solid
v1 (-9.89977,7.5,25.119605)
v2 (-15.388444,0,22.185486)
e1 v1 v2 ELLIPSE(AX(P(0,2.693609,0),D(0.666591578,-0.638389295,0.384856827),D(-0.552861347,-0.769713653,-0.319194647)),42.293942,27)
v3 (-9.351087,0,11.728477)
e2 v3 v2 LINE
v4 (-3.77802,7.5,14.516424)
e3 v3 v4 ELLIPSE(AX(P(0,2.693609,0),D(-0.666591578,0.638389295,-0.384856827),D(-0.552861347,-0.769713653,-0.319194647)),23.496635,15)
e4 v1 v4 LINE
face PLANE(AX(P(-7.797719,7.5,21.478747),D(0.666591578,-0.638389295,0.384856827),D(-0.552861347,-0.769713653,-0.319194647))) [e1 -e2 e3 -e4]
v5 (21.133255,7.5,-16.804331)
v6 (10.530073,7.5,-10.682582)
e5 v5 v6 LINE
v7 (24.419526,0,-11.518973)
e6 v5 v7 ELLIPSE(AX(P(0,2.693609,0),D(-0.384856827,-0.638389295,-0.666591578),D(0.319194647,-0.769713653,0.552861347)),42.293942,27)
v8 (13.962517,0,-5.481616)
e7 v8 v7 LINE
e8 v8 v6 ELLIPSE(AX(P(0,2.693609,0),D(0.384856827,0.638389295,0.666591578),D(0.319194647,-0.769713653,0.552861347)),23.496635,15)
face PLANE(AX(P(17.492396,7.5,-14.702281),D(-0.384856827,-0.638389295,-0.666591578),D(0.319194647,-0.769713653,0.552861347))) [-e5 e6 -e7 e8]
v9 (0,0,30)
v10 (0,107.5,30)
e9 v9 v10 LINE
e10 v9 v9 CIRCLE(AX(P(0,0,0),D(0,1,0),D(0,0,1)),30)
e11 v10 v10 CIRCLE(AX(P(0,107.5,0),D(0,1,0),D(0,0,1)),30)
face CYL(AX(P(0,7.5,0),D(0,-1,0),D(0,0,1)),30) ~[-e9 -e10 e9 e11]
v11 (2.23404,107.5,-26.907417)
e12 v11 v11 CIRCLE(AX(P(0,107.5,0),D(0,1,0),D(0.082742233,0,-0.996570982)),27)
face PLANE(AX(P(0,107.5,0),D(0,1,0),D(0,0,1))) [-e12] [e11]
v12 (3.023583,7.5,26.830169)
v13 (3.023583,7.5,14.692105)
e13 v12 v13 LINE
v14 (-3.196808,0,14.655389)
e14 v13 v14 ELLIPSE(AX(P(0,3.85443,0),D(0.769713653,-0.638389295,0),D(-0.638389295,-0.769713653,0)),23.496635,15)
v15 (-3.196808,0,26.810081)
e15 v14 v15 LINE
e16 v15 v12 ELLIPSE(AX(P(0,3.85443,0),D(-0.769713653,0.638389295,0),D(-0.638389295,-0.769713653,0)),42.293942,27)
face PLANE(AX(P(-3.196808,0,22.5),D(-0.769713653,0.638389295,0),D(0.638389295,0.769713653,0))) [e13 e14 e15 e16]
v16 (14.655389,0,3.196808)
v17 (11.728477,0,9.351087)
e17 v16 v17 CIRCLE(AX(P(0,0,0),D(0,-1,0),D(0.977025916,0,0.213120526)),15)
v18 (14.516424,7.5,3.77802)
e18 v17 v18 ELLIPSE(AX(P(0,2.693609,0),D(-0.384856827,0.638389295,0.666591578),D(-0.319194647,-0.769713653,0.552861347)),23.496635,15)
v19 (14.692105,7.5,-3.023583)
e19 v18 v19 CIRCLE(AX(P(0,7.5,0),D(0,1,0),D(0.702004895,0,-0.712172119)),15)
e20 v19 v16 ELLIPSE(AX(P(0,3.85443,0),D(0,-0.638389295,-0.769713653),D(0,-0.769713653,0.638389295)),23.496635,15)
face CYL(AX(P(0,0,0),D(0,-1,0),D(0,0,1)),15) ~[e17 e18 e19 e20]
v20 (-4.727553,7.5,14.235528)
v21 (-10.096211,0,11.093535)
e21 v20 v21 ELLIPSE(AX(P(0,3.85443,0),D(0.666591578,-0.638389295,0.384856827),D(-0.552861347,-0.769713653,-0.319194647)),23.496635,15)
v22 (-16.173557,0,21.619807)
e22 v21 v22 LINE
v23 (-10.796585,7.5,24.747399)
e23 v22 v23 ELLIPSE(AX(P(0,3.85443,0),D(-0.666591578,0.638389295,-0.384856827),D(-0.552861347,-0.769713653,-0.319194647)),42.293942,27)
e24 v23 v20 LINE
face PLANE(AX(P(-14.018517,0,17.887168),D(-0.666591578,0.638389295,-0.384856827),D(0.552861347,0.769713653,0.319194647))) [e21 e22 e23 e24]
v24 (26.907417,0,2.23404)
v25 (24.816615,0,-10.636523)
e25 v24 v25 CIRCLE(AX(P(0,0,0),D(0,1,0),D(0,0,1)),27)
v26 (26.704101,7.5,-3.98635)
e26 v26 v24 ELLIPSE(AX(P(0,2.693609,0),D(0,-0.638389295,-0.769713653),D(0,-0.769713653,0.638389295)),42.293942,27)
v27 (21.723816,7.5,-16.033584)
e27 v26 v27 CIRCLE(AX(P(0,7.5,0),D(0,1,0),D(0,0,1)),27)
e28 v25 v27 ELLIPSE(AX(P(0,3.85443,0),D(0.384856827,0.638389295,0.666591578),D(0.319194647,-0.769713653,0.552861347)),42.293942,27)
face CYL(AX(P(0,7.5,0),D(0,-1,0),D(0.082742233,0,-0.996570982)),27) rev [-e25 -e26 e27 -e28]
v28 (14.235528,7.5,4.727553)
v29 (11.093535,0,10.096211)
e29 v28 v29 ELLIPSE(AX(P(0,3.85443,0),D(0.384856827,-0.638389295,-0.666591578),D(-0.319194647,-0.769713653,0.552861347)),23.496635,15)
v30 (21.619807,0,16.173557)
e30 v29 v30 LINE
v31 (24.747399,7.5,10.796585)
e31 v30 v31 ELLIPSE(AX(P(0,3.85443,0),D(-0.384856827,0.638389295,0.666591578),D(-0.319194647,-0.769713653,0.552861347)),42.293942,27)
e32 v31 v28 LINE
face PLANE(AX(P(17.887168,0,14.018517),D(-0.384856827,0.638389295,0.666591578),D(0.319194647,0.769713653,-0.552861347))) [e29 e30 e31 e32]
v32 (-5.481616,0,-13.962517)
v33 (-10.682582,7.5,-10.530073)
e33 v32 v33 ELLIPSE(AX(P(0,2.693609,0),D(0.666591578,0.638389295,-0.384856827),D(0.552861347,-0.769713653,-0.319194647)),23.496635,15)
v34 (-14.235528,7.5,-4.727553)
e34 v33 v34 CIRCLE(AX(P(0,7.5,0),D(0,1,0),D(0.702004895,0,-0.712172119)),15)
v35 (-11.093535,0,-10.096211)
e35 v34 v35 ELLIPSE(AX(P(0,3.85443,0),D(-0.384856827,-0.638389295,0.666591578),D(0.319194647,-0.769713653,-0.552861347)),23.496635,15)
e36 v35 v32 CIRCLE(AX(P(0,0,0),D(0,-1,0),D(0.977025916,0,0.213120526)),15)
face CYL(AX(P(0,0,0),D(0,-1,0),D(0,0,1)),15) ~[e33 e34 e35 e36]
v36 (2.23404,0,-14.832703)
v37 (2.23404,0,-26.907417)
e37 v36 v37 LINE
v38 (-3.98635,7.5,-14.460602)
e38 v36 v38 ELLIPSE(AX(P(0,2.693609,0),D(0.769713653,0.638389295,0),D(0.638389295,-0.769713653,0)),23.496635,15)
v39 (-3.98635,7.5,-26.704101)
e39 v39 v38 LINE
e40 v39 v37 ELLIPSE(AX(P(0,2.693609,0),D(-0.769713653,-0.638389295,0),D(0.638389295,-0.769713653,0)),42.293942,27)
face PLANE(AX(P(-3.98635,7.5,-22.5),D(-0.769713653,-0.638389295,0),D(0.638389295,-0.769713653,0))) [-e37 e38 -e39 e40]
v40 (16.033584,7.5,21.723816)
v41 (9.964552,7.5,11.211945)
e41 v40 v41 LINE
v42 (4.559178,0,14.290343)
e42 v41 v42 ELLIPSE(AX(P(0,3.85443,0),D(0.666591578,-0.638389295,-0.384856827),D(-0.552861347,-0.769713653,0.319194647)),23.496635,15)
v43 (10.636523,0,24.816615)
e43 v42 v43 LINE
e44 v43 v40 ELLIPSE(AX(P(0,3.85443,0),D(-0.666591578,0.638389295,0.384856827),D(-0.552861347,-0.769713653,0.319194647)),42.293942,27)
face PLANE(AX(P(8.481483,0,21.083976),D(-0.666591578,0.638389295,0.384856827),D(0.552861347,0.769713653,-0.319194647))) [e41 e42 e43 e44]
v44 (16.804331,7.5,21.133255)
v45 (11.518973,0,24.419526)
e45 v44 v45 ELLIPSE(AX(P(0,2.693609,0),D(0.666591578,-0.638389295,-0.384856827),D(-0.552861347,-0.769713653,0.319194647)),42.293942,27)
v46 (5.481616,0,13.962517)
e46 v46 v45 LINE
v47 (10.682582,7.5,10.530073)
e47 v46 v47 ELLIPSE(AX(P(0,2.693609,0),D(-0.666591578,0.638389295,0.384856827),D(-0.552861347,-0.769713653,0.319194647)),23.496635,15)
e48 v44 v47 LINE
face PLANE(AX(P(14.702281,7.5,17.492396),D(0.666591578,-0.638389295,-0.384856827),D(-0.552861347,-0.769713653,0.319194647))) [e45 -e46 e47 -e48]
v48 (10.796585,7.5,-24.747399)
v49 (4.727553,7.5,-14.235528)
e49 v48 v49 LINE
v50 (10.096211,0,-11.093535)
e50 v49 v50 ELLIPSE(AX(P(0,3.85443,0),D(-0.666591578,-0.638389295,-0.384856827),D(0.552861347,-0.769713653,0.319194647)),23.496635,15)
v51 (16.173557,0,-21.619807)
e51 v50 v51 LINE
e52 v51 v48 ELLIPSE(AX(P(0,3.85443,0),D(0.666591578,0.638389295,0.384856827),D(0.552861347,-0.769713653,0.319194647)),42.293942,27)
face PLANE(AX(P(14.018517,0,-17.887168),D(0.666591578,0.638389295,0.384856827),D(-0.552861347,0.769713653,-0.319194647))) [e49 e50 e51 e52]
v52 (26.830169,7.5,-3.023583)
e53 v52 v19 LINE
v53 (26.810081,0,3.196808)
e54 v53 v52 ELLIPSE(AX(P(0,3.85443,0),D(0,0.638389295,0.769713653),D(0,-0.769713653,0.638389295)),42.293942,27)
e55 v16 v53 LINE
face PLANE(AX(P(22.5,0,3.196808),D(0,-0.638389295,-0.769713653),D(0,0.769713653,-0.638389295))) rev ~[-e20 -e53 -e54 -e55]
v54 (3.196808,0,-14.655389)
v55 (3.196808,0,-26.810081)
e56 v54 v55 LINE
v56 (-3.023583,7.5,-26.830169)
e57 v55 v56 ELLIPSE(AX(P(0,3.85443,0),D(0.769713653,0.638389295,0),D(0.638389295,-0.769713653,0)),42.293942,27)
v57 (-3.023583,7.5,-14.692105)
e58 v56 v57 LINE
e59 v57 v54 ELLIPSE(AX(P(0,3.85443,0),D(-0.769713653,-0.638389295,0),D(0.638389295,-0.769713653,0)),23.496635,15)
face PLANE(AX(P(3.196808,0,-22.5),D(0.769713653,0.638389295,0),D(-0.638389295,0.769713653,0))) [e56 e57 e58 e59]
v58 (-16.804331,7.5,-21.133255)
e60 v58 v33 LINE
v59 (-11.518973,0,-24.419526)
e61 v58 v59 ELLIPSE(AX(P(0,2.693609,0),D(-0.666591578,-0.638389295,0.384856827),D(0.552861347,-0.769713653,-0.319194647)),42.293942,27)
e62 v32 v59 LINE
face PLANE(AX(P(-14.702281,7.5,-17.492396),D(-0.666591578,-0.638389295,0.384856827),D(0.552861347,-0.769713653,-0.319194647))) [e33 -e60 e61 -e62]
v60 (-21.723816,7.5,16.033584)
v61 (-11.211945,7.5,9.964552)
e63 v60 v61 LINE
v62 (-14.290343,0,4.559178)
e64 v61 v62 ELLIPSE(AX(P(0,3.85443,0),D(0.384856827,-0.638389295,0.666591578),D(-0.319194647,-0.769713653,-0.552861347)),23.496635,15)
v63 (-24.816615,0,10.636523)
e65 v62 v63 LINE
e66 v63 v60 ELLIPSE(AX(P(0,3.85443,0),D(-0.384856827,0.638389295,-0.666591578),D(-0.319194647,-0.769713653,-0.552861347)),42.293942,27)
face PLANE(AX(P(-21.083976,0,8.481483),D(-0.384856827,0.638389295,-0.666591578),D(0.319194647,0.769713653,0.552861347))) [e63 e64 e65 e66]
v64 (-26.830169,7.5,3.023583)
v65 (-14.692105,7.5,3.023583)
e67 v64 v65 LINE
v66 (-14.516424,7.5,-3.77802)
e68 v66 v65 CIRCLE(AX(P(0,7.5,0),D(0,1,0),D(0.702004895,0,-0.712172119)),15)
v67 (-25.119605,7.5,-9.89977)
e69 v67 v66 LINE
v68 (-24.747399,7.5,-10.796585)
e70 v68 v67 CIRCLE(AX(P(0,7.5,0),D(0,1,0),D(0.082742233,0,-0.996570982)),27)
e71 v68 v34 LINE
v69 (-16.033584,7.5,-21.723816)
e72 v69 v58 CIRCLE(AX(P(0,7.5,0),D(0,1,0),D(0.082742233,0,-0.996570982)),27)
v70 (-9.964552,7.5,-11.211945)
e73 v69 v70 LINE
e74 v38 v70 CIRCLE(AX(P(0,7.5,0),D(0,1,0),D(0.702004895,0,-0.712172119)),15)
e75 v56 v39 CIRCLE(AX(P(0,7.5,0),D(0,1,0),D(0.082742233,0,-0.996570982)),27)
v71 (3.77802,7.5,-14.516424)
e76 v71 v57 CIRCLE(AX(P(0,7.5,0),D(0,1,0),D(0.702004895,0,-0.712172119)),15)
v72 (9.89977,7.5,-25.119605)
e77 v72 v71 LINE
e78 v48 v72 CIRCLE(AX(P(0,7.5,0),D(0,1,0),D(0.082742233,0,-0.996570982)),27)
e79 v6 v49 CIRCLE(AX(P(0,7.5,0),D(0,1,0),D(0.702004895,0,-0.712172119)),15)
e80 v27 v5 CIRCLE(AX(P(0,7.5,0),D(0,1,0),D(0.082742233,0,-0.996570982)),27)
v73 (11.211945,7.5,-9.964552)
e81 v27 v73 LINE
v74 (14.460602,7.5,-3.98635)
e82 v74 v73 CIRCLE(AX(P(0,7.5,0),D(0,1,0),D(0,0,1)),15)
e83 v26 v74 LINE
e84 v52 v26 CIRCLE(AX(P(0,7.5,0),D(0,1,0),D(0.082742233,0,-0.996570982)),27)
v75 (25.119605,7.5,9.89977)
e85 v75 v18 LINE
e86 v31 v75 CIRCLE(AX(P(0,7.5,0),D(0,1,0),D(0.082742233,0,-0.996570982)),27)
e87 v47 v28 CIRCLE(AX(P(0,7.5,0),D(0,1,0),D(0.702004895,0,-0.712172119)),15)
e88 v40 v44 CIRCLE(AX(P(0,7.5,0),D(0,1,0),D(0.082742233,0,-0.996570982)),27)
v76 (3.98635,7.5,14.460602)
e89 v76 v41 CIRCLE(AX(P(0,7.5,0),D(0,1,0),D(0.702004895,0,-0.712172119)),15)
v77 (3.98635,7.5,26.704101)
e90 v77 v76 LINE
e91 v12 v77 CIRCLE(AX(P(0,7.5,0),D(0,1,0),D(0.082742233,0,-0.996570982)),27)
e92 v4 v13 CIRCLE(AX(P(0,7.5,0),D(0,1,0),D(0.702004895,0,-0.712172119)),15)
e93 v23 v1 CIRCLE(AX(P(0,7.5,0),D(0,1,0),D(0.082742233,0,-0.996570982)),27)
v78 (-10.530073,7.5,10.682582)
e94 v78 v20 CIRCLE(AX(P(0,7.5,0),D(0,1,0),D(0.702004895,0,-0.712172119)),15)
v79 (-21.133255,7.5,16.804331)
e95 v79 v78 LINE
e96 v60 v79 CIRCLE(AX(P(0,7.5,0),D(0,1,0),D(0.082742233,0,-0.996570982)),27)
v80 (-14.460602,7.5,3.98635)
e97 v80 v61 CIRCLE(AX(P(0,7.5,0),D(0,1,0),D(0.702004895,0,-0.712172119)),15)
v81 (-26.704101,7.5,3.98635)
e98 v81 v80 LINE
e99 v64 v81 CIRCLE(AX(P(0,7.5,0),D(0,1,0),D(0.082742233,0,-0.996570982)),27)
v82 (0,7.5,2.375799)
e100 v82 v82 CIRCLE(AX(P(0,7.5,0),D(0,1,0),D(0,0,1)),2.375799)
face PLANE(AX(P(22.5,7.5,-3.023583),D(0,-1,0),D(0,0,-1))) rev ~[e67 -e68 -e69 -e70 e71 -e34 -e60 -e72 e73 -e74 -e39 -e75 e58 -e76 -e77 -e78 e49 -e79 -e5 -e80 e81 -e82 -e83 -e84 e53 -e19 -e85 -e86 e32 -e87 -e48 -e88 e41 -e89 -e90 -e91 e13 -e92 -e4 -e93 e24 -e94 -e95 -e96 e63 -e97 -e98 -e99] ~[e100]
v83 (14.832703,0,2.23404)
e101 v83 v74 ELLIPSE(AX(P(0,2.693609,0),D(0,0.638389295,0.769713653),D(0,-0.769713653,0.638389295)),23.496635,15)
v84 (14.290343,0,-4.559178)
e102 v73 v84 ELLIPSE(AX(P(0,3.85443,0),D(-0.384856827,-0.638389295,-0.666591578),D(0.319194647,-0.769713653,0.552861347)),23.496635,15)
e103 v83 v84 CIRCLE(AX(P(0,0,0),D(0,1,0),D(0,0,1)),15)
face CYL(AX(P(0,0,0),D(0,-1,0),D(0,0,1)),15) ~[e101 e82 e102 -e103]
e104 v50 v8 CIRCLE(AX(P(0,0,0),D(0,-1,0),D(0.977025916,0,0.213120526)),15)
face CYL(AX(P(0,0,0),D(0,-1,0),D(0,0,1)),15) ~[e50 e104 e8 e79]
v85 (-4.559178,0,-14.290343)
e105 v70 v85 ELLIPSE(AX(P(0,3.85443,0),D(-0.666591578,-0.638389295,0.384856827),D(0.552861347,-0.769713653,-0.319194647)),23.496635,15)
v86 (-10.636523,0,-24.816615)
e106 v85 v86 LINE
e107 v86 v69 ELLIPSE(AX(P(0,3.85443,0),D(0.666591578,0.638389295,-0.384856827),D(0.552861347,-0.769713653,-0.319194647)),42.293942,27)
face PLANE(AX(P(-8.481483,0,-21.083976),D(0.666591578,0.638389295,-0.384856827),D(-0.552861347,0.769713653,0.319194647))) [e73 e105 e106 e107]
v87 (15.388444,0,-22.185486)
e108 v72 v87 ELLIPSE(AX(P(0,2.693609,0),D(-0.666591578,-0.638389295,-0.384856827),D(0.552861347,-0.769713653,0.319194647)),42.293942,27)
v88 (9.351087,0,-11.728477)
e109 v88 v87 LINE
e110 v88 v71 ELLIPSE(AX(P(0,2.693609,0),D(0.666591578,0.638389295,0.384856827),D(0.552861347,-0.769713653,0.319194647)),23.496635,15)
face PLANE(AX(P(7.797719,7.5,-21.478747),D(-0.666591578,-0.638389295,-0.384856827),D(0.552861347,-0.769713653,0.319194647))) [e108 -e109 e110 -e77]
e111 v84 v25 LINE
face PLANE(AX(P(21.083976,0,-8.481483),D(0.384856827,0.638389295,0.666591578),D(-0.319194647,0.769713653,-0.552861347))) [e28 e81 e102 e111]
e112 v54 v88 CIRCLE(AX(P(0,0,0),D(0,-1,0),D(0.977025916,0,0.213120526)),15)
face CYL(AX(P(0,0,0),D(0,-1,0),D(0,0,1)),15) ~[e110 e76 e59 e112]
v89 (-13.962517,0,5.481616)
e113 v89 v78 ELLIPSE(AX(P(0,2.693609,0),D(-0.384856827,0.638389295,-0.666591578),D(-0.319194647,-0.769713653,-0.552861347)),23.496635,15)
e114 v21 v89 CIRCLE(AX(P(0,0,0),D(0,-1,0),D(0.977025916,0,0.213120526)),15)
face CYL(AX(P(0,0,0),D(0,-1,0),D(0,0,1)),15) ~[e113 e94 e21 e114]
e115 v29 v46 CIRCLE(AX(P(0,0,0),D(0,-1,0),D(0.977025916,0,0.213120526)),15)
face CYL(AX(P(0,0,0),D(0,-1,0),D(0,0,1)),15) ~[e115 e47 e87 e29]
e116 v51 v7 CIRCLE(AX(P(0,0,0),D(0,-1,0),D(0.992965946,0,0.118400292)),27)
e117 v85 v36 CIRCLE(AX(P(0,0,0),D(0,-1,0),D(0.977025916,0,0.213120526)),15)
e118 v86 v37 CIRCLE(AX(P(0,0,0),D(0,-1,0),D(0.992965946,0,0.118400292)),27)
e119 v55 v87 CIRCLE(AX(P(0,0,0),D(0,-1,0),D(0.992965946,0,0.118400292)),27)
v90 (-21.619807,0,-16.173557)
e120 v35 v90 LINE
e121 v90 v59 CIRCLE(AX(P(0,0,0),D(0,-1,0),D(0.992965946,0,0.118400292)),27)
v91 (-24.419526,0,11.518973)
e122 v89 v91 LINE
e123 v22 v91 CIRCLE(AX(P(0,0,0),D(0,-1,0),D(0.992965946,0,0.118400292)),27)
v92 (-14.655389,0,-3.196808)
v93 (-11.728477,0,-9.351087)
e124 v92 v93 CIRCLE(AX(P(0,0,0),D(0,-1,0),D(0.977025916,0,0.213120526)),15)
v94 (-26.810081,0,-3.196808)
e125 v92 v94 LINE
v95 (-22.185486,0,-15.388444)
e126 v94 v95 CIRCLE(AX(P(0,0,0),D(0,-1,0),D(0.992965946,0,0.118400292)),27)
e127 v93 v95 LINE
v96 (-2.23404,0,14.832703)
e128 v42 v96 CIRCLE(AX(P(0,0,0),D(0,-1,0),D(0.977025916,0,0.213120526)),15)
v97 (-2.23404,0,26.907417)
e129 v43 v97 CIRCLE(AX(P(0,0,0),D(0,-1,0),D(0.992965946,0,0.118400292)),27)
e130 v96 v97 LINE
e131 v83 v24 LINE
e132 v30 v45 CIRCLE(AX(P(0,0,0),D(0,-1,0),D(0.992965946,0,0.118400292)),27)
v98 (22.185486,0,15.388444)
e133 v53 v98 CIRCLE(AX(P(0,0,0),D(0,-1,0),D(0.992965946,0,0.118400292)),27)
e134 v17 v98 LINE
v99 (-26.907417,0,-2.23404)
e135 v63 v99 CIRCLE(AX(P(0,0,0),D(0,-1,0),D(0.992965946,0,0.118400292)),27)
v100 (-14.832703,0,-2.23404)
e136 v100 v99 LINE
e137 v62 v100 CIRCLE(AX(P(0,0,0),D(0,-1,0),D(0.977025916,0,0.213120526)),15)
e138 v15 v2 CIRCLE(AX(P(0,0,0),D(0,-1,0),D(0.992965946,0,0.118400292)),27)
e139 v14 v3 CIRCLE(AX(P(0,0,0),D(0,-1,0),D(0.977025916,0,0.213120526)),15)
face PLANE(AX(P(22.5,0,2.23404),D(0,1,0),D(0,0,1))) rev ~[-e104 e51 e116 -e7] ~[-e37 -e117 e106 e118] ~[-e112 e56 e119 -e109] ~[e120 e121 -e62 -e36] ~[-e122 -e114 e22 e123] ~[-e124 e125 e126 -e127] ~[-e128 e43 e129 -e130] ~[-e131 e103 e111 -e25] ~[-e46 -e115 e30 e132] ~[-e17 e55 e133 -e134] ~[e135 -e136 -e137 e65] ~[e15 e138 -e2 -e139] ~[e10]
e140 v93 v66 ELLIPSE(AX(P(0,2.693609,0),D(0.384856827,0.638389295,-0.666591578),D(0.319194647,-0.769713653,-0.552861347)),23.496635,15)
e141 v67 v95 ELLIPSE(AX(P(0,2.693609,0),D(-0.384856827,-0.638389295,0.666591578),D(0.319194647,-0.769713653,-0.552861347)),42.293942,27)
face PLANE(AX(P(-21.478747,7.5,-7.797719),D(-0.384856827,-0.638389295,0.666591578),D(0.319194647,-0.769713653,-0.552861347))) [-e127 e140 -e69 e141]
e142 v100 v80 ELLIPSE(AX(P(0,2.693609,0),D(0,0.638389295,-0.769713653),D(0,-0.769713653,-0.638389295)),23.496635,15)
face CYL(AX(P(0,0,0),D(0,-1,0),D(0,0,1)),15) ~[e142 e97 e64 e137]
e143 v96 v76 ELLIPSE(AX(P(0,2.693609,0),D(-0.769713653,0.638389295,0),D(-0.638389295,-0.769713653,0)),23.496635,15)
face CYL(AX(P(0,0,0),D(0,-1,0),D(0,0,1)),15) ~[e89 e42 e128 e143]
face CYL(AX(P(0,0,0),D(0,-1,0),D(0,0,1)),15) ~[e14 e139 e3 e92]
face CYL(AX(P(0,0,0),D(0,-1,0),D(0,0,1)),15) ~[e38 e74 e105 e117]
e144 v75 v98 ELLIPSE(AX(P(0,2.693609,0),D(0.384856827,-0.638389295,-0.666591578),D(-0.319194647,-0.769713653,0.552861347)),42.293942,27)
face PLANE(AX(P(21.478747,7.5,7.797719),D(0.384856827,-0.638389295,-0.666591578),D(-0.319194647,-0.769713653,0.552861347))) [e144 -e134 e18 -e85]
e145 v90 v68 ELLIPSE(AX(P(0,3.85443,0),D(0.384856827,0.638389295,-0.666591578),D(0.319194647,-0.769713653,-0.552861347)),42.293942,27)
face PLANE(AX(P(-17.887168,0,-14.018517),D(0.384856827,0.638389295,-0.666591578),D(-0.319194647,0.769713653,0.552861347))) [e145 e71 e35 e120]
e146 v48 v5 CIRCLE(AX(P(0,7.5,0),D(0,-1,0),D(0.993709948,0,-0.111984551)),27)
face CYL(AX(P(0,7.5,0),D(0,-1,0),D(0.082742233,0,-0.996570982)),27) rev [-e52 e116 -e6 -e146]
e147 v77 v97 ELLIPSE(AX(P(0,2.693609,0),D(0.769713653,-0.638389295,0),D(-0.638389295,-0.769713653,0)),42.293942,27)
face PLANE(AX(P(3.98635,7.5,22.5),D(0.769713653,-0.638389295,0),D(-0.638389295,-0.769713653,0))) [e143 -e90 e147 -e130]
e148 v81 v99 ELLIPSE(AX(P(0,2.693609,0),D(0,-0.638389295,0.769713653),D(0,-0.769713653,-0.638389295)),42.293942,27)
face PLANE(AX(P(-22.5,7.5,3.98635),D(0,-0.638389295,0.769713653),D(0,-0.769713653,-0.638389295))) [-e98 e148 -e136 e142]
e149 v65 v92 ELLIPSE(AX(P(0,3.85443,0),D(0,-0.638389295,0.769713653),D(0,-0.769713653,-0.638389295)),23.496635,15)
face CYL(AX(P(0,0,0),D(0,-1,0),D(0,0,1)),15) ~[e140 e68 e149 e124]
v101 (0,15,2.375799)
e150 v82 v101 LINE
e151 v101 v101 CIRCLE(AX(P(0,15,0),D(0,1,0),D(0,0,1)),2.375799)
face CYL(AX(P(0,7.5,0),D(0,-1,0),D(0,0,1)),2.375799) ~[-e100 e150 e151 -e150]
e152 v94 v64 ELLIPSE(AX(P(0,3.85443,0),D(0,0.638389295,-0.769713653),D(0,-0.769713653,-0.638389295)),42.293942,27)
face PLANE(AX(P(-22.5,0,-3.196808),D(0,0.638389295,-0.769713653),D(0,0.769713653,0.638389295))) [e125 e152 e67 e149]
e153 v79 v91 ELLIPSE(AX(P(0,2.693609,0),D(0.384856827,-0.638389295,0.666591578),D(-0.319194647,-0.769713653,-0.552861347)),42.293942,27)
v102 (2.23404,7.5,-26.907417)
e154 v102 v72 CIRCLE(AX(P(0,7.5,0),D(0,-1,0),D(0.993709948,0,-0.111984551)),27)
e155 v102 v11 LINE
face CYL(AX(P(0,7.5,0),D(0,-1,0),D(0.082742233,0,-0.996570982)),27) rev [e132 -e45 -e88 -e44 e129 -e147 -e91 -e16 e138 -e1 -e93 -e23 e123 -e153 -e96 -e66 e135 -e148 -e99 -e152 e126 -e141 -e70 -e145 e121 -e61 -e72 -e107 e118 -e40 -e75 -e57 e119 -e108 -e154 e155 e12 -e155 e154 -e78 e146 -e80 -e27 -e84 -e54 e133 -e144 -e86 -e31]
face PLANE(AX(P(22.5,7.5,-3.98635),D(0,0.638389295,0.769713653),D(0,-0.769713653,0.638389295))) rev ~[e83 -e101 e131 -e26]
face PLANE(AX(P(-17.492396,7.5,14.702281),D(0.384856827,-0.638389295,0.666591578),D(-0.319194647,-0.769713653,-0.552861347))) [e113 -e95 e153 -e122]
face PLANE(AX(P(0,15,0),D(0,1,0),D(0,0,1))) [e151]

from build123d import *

# Parameters (mm, degrees)
SKETCH1_R                            = 20
BOSS_EXTRUDE1_DEPTH                  = 10
SKETCH1_R_2                          = 40
SKETCH1_R_3                          = 36
BOSS_EXTRUDE1_2_DEPTH                = 10
BOSS_EXTRUDE2_REACH                  = 89.446
BOSS_EXTRUDE2_END_RADIUS             = 36
BOSS_EXTRUDE2_START                  = 30
BOSS_EXTRUDE2_DIRECTION_2_REACH      = 89.446
BOSS_EXTRUDE2_DIRECTION_2_END_RADIUS = 20
CIRPATTERN1_COUNT                    = 12
SKETCH5_R                            = 3.167731354
BOSS_EXTRUDE3_DEPTH                  = 10
SCALE1_SCALE                         = 0.75
SKETCH6_R                            = 30
SKETCH6_R_2                          = 27
BOSS_EXTRUDE4_DEPTH                  = 100


with BuildPart() as part:
    # Sketch1 → Boss-Extrude1 (new body)
    with BuildSketch(Plane(origin=(0, 0, 0), x_dir=(1, 0, 0), z_dir=(0, 1, 0))):
        with Locations(Location((0, 0, 0), (0, 0, 270))):
            Circle(SKETCH1_R)
    extrude(amount=BOSS_EXTRUDE1_DEPTH)


with BuildPart() as body_2:
    # Sketch1 → Boss-Extrude1 2 (new body)
    with BuildSketch(Plane(origin=(0, 0, 0), x_dir=(1, 0, 0), z_dir=(0, 1, 0))):
        with Locations(Location((0, 0, 0), (0, 0, 270))):
            Circle(SKETCH1_R_2)
        with Locations(Location((0, 0, 0), (0, 0, 270))):
            Circle(SKETCH1_R_3, mode=Mode.SUBTRACT)
    extrude(amount=BOSS_EXTRUDE1_2_DEPTH)


    add(part.part)  # Boss-Extrude2 merges part
    # Boss-Extrude2: up to this cylinder (the profile starts inside it)
    boss_extrude2_end = Plane(origin=(0, 5, 0), z_dir=(0, -1, 0)) * Cylinder(BOSS_EXTRUDE2_END_RADIUS, 251.892, mode=Mode.PRIVATE)
    # Sketch4 → Boss-Extrude2 (add, up to the surface)
    with BuildSketch(Plane(origin=(0, 0, 0), x_dir=(0, 0, -1), z_dir=(1, 0, 0)).offset(BOSS_EXTRUDE2_START), mode=Mode.PRIVATE) as boss_extrude2_sk1:
        Polygon((-4.262410526, 0), (4.031443844, 10), (5.315133993, 10), (-2.978720377, 0), align=None)
    boss_extrude2_tool1 = extrude(boss_extrude2_sk1.sketch, amount=BOSS_EXTRUDE2_REACH, mode=Mode.PRIVATE) & boss_extrude2_end
    boss_extrude2 = boss_extrude2_tool1.solids().sort_by_distance((30, 5, -0.526362))[0]
    add(boss_extrude2)

    # Boss-Extrude2 direction 2: up to this cylinder (the profile starts outside it)
    boss_extrude2_direction_2_end = Plane(origin=(0, 5, 0), z_dir=(0, -1, 0)) * Cylinder(BOSS_EXTRUDE2_DIRECTION_2_END_RADIUS, 219.892, mode=Mode.PRIVATE)
    # Sketch4 → Boss-Extrude2 direction 2 (add, up to the surface)
    with BuildSketch(Plane(origin=(0, 0, 0), x_dir=(0, 0, -1), z_dir=(1, 0, 0)).offset(BOSS_EXTRUDE2_START), mode=Mode.PRIVATE) as boss_extrude2_direction_2_sk1:
        Polygon((-4.262410526, 0), (4.031443844, 10), (5.315133993, 10), (-2.978720377, 0), align=None)
    boss_extrude2_direction_2_tool1 = extrude(boss_extrude2_direction_2_sk1.sketch, amount=-BOSS_EXTRUDE2_DIRECTION_2_REACH, mode=Mode.PRIVATE) - boss_extrude2_direction_2_end
    boss_extrude2_direction_2 = boss_extrude2_direction_2_tool1.solids().sort_by_distance((30, 5, -0.526362))[0]
    add(boss_extrude2_direction_2)
    boss_extrude2 = boss_extrude2 + boss_extrude2_direction_2  # both directions under the feature's name, for the pattern or mirror that repeats it

    # CirPattern1: Boss-Extrude2 ×12 about axis
    cirpattern1_axis = Axis((0, 0, 0), (0, 1, 0))
    for i in range(1, CIRPATTERN1_COUNT):
        add(boss_extrude2.rotate(cirpattern1_axis, i * 360 / CIRPATTERN1_COUNT))

    # Sketch5 → Boss-Extrude3 (add)
    with BuildSketch(Plane(origin=(0, 10, 0), x_dir=(1, 0, 0), z_dir=(0, 1, 0))):
        with Locations(Location((0, 0, 0), (0, 0, 270))):
            Circle(SKETCH5_R)
    extrude(amount=BOSS_EXTRUDE3_DEPTH)


with BuildPart() as body_2_1:
    # Scale1: scaled about (0, 0, 0)
    add(body_2.part.scale(SCALE1_SCALE))

    # Sketch6 → Boss-Extrude4 (add)
    with BuildSketch(Plane(origin=(0, 7.5, 0), x_dir=(1, 0, 0), z_dir=(0, 1, 0))):
        with Locations(Location((0, 0, 0), (0, 0, 270))):
            Circle(SKETCH6_R)
        with Locations(Location((0, 0, 0), (0, 0, 85.253793096))):
            Circle(SKETCH6_R_2, mode=Mode.SUBTRACT)
    extrude(amount=BOSS_EXTRUDE4_DEPTH)


solid = body_2_1.part
